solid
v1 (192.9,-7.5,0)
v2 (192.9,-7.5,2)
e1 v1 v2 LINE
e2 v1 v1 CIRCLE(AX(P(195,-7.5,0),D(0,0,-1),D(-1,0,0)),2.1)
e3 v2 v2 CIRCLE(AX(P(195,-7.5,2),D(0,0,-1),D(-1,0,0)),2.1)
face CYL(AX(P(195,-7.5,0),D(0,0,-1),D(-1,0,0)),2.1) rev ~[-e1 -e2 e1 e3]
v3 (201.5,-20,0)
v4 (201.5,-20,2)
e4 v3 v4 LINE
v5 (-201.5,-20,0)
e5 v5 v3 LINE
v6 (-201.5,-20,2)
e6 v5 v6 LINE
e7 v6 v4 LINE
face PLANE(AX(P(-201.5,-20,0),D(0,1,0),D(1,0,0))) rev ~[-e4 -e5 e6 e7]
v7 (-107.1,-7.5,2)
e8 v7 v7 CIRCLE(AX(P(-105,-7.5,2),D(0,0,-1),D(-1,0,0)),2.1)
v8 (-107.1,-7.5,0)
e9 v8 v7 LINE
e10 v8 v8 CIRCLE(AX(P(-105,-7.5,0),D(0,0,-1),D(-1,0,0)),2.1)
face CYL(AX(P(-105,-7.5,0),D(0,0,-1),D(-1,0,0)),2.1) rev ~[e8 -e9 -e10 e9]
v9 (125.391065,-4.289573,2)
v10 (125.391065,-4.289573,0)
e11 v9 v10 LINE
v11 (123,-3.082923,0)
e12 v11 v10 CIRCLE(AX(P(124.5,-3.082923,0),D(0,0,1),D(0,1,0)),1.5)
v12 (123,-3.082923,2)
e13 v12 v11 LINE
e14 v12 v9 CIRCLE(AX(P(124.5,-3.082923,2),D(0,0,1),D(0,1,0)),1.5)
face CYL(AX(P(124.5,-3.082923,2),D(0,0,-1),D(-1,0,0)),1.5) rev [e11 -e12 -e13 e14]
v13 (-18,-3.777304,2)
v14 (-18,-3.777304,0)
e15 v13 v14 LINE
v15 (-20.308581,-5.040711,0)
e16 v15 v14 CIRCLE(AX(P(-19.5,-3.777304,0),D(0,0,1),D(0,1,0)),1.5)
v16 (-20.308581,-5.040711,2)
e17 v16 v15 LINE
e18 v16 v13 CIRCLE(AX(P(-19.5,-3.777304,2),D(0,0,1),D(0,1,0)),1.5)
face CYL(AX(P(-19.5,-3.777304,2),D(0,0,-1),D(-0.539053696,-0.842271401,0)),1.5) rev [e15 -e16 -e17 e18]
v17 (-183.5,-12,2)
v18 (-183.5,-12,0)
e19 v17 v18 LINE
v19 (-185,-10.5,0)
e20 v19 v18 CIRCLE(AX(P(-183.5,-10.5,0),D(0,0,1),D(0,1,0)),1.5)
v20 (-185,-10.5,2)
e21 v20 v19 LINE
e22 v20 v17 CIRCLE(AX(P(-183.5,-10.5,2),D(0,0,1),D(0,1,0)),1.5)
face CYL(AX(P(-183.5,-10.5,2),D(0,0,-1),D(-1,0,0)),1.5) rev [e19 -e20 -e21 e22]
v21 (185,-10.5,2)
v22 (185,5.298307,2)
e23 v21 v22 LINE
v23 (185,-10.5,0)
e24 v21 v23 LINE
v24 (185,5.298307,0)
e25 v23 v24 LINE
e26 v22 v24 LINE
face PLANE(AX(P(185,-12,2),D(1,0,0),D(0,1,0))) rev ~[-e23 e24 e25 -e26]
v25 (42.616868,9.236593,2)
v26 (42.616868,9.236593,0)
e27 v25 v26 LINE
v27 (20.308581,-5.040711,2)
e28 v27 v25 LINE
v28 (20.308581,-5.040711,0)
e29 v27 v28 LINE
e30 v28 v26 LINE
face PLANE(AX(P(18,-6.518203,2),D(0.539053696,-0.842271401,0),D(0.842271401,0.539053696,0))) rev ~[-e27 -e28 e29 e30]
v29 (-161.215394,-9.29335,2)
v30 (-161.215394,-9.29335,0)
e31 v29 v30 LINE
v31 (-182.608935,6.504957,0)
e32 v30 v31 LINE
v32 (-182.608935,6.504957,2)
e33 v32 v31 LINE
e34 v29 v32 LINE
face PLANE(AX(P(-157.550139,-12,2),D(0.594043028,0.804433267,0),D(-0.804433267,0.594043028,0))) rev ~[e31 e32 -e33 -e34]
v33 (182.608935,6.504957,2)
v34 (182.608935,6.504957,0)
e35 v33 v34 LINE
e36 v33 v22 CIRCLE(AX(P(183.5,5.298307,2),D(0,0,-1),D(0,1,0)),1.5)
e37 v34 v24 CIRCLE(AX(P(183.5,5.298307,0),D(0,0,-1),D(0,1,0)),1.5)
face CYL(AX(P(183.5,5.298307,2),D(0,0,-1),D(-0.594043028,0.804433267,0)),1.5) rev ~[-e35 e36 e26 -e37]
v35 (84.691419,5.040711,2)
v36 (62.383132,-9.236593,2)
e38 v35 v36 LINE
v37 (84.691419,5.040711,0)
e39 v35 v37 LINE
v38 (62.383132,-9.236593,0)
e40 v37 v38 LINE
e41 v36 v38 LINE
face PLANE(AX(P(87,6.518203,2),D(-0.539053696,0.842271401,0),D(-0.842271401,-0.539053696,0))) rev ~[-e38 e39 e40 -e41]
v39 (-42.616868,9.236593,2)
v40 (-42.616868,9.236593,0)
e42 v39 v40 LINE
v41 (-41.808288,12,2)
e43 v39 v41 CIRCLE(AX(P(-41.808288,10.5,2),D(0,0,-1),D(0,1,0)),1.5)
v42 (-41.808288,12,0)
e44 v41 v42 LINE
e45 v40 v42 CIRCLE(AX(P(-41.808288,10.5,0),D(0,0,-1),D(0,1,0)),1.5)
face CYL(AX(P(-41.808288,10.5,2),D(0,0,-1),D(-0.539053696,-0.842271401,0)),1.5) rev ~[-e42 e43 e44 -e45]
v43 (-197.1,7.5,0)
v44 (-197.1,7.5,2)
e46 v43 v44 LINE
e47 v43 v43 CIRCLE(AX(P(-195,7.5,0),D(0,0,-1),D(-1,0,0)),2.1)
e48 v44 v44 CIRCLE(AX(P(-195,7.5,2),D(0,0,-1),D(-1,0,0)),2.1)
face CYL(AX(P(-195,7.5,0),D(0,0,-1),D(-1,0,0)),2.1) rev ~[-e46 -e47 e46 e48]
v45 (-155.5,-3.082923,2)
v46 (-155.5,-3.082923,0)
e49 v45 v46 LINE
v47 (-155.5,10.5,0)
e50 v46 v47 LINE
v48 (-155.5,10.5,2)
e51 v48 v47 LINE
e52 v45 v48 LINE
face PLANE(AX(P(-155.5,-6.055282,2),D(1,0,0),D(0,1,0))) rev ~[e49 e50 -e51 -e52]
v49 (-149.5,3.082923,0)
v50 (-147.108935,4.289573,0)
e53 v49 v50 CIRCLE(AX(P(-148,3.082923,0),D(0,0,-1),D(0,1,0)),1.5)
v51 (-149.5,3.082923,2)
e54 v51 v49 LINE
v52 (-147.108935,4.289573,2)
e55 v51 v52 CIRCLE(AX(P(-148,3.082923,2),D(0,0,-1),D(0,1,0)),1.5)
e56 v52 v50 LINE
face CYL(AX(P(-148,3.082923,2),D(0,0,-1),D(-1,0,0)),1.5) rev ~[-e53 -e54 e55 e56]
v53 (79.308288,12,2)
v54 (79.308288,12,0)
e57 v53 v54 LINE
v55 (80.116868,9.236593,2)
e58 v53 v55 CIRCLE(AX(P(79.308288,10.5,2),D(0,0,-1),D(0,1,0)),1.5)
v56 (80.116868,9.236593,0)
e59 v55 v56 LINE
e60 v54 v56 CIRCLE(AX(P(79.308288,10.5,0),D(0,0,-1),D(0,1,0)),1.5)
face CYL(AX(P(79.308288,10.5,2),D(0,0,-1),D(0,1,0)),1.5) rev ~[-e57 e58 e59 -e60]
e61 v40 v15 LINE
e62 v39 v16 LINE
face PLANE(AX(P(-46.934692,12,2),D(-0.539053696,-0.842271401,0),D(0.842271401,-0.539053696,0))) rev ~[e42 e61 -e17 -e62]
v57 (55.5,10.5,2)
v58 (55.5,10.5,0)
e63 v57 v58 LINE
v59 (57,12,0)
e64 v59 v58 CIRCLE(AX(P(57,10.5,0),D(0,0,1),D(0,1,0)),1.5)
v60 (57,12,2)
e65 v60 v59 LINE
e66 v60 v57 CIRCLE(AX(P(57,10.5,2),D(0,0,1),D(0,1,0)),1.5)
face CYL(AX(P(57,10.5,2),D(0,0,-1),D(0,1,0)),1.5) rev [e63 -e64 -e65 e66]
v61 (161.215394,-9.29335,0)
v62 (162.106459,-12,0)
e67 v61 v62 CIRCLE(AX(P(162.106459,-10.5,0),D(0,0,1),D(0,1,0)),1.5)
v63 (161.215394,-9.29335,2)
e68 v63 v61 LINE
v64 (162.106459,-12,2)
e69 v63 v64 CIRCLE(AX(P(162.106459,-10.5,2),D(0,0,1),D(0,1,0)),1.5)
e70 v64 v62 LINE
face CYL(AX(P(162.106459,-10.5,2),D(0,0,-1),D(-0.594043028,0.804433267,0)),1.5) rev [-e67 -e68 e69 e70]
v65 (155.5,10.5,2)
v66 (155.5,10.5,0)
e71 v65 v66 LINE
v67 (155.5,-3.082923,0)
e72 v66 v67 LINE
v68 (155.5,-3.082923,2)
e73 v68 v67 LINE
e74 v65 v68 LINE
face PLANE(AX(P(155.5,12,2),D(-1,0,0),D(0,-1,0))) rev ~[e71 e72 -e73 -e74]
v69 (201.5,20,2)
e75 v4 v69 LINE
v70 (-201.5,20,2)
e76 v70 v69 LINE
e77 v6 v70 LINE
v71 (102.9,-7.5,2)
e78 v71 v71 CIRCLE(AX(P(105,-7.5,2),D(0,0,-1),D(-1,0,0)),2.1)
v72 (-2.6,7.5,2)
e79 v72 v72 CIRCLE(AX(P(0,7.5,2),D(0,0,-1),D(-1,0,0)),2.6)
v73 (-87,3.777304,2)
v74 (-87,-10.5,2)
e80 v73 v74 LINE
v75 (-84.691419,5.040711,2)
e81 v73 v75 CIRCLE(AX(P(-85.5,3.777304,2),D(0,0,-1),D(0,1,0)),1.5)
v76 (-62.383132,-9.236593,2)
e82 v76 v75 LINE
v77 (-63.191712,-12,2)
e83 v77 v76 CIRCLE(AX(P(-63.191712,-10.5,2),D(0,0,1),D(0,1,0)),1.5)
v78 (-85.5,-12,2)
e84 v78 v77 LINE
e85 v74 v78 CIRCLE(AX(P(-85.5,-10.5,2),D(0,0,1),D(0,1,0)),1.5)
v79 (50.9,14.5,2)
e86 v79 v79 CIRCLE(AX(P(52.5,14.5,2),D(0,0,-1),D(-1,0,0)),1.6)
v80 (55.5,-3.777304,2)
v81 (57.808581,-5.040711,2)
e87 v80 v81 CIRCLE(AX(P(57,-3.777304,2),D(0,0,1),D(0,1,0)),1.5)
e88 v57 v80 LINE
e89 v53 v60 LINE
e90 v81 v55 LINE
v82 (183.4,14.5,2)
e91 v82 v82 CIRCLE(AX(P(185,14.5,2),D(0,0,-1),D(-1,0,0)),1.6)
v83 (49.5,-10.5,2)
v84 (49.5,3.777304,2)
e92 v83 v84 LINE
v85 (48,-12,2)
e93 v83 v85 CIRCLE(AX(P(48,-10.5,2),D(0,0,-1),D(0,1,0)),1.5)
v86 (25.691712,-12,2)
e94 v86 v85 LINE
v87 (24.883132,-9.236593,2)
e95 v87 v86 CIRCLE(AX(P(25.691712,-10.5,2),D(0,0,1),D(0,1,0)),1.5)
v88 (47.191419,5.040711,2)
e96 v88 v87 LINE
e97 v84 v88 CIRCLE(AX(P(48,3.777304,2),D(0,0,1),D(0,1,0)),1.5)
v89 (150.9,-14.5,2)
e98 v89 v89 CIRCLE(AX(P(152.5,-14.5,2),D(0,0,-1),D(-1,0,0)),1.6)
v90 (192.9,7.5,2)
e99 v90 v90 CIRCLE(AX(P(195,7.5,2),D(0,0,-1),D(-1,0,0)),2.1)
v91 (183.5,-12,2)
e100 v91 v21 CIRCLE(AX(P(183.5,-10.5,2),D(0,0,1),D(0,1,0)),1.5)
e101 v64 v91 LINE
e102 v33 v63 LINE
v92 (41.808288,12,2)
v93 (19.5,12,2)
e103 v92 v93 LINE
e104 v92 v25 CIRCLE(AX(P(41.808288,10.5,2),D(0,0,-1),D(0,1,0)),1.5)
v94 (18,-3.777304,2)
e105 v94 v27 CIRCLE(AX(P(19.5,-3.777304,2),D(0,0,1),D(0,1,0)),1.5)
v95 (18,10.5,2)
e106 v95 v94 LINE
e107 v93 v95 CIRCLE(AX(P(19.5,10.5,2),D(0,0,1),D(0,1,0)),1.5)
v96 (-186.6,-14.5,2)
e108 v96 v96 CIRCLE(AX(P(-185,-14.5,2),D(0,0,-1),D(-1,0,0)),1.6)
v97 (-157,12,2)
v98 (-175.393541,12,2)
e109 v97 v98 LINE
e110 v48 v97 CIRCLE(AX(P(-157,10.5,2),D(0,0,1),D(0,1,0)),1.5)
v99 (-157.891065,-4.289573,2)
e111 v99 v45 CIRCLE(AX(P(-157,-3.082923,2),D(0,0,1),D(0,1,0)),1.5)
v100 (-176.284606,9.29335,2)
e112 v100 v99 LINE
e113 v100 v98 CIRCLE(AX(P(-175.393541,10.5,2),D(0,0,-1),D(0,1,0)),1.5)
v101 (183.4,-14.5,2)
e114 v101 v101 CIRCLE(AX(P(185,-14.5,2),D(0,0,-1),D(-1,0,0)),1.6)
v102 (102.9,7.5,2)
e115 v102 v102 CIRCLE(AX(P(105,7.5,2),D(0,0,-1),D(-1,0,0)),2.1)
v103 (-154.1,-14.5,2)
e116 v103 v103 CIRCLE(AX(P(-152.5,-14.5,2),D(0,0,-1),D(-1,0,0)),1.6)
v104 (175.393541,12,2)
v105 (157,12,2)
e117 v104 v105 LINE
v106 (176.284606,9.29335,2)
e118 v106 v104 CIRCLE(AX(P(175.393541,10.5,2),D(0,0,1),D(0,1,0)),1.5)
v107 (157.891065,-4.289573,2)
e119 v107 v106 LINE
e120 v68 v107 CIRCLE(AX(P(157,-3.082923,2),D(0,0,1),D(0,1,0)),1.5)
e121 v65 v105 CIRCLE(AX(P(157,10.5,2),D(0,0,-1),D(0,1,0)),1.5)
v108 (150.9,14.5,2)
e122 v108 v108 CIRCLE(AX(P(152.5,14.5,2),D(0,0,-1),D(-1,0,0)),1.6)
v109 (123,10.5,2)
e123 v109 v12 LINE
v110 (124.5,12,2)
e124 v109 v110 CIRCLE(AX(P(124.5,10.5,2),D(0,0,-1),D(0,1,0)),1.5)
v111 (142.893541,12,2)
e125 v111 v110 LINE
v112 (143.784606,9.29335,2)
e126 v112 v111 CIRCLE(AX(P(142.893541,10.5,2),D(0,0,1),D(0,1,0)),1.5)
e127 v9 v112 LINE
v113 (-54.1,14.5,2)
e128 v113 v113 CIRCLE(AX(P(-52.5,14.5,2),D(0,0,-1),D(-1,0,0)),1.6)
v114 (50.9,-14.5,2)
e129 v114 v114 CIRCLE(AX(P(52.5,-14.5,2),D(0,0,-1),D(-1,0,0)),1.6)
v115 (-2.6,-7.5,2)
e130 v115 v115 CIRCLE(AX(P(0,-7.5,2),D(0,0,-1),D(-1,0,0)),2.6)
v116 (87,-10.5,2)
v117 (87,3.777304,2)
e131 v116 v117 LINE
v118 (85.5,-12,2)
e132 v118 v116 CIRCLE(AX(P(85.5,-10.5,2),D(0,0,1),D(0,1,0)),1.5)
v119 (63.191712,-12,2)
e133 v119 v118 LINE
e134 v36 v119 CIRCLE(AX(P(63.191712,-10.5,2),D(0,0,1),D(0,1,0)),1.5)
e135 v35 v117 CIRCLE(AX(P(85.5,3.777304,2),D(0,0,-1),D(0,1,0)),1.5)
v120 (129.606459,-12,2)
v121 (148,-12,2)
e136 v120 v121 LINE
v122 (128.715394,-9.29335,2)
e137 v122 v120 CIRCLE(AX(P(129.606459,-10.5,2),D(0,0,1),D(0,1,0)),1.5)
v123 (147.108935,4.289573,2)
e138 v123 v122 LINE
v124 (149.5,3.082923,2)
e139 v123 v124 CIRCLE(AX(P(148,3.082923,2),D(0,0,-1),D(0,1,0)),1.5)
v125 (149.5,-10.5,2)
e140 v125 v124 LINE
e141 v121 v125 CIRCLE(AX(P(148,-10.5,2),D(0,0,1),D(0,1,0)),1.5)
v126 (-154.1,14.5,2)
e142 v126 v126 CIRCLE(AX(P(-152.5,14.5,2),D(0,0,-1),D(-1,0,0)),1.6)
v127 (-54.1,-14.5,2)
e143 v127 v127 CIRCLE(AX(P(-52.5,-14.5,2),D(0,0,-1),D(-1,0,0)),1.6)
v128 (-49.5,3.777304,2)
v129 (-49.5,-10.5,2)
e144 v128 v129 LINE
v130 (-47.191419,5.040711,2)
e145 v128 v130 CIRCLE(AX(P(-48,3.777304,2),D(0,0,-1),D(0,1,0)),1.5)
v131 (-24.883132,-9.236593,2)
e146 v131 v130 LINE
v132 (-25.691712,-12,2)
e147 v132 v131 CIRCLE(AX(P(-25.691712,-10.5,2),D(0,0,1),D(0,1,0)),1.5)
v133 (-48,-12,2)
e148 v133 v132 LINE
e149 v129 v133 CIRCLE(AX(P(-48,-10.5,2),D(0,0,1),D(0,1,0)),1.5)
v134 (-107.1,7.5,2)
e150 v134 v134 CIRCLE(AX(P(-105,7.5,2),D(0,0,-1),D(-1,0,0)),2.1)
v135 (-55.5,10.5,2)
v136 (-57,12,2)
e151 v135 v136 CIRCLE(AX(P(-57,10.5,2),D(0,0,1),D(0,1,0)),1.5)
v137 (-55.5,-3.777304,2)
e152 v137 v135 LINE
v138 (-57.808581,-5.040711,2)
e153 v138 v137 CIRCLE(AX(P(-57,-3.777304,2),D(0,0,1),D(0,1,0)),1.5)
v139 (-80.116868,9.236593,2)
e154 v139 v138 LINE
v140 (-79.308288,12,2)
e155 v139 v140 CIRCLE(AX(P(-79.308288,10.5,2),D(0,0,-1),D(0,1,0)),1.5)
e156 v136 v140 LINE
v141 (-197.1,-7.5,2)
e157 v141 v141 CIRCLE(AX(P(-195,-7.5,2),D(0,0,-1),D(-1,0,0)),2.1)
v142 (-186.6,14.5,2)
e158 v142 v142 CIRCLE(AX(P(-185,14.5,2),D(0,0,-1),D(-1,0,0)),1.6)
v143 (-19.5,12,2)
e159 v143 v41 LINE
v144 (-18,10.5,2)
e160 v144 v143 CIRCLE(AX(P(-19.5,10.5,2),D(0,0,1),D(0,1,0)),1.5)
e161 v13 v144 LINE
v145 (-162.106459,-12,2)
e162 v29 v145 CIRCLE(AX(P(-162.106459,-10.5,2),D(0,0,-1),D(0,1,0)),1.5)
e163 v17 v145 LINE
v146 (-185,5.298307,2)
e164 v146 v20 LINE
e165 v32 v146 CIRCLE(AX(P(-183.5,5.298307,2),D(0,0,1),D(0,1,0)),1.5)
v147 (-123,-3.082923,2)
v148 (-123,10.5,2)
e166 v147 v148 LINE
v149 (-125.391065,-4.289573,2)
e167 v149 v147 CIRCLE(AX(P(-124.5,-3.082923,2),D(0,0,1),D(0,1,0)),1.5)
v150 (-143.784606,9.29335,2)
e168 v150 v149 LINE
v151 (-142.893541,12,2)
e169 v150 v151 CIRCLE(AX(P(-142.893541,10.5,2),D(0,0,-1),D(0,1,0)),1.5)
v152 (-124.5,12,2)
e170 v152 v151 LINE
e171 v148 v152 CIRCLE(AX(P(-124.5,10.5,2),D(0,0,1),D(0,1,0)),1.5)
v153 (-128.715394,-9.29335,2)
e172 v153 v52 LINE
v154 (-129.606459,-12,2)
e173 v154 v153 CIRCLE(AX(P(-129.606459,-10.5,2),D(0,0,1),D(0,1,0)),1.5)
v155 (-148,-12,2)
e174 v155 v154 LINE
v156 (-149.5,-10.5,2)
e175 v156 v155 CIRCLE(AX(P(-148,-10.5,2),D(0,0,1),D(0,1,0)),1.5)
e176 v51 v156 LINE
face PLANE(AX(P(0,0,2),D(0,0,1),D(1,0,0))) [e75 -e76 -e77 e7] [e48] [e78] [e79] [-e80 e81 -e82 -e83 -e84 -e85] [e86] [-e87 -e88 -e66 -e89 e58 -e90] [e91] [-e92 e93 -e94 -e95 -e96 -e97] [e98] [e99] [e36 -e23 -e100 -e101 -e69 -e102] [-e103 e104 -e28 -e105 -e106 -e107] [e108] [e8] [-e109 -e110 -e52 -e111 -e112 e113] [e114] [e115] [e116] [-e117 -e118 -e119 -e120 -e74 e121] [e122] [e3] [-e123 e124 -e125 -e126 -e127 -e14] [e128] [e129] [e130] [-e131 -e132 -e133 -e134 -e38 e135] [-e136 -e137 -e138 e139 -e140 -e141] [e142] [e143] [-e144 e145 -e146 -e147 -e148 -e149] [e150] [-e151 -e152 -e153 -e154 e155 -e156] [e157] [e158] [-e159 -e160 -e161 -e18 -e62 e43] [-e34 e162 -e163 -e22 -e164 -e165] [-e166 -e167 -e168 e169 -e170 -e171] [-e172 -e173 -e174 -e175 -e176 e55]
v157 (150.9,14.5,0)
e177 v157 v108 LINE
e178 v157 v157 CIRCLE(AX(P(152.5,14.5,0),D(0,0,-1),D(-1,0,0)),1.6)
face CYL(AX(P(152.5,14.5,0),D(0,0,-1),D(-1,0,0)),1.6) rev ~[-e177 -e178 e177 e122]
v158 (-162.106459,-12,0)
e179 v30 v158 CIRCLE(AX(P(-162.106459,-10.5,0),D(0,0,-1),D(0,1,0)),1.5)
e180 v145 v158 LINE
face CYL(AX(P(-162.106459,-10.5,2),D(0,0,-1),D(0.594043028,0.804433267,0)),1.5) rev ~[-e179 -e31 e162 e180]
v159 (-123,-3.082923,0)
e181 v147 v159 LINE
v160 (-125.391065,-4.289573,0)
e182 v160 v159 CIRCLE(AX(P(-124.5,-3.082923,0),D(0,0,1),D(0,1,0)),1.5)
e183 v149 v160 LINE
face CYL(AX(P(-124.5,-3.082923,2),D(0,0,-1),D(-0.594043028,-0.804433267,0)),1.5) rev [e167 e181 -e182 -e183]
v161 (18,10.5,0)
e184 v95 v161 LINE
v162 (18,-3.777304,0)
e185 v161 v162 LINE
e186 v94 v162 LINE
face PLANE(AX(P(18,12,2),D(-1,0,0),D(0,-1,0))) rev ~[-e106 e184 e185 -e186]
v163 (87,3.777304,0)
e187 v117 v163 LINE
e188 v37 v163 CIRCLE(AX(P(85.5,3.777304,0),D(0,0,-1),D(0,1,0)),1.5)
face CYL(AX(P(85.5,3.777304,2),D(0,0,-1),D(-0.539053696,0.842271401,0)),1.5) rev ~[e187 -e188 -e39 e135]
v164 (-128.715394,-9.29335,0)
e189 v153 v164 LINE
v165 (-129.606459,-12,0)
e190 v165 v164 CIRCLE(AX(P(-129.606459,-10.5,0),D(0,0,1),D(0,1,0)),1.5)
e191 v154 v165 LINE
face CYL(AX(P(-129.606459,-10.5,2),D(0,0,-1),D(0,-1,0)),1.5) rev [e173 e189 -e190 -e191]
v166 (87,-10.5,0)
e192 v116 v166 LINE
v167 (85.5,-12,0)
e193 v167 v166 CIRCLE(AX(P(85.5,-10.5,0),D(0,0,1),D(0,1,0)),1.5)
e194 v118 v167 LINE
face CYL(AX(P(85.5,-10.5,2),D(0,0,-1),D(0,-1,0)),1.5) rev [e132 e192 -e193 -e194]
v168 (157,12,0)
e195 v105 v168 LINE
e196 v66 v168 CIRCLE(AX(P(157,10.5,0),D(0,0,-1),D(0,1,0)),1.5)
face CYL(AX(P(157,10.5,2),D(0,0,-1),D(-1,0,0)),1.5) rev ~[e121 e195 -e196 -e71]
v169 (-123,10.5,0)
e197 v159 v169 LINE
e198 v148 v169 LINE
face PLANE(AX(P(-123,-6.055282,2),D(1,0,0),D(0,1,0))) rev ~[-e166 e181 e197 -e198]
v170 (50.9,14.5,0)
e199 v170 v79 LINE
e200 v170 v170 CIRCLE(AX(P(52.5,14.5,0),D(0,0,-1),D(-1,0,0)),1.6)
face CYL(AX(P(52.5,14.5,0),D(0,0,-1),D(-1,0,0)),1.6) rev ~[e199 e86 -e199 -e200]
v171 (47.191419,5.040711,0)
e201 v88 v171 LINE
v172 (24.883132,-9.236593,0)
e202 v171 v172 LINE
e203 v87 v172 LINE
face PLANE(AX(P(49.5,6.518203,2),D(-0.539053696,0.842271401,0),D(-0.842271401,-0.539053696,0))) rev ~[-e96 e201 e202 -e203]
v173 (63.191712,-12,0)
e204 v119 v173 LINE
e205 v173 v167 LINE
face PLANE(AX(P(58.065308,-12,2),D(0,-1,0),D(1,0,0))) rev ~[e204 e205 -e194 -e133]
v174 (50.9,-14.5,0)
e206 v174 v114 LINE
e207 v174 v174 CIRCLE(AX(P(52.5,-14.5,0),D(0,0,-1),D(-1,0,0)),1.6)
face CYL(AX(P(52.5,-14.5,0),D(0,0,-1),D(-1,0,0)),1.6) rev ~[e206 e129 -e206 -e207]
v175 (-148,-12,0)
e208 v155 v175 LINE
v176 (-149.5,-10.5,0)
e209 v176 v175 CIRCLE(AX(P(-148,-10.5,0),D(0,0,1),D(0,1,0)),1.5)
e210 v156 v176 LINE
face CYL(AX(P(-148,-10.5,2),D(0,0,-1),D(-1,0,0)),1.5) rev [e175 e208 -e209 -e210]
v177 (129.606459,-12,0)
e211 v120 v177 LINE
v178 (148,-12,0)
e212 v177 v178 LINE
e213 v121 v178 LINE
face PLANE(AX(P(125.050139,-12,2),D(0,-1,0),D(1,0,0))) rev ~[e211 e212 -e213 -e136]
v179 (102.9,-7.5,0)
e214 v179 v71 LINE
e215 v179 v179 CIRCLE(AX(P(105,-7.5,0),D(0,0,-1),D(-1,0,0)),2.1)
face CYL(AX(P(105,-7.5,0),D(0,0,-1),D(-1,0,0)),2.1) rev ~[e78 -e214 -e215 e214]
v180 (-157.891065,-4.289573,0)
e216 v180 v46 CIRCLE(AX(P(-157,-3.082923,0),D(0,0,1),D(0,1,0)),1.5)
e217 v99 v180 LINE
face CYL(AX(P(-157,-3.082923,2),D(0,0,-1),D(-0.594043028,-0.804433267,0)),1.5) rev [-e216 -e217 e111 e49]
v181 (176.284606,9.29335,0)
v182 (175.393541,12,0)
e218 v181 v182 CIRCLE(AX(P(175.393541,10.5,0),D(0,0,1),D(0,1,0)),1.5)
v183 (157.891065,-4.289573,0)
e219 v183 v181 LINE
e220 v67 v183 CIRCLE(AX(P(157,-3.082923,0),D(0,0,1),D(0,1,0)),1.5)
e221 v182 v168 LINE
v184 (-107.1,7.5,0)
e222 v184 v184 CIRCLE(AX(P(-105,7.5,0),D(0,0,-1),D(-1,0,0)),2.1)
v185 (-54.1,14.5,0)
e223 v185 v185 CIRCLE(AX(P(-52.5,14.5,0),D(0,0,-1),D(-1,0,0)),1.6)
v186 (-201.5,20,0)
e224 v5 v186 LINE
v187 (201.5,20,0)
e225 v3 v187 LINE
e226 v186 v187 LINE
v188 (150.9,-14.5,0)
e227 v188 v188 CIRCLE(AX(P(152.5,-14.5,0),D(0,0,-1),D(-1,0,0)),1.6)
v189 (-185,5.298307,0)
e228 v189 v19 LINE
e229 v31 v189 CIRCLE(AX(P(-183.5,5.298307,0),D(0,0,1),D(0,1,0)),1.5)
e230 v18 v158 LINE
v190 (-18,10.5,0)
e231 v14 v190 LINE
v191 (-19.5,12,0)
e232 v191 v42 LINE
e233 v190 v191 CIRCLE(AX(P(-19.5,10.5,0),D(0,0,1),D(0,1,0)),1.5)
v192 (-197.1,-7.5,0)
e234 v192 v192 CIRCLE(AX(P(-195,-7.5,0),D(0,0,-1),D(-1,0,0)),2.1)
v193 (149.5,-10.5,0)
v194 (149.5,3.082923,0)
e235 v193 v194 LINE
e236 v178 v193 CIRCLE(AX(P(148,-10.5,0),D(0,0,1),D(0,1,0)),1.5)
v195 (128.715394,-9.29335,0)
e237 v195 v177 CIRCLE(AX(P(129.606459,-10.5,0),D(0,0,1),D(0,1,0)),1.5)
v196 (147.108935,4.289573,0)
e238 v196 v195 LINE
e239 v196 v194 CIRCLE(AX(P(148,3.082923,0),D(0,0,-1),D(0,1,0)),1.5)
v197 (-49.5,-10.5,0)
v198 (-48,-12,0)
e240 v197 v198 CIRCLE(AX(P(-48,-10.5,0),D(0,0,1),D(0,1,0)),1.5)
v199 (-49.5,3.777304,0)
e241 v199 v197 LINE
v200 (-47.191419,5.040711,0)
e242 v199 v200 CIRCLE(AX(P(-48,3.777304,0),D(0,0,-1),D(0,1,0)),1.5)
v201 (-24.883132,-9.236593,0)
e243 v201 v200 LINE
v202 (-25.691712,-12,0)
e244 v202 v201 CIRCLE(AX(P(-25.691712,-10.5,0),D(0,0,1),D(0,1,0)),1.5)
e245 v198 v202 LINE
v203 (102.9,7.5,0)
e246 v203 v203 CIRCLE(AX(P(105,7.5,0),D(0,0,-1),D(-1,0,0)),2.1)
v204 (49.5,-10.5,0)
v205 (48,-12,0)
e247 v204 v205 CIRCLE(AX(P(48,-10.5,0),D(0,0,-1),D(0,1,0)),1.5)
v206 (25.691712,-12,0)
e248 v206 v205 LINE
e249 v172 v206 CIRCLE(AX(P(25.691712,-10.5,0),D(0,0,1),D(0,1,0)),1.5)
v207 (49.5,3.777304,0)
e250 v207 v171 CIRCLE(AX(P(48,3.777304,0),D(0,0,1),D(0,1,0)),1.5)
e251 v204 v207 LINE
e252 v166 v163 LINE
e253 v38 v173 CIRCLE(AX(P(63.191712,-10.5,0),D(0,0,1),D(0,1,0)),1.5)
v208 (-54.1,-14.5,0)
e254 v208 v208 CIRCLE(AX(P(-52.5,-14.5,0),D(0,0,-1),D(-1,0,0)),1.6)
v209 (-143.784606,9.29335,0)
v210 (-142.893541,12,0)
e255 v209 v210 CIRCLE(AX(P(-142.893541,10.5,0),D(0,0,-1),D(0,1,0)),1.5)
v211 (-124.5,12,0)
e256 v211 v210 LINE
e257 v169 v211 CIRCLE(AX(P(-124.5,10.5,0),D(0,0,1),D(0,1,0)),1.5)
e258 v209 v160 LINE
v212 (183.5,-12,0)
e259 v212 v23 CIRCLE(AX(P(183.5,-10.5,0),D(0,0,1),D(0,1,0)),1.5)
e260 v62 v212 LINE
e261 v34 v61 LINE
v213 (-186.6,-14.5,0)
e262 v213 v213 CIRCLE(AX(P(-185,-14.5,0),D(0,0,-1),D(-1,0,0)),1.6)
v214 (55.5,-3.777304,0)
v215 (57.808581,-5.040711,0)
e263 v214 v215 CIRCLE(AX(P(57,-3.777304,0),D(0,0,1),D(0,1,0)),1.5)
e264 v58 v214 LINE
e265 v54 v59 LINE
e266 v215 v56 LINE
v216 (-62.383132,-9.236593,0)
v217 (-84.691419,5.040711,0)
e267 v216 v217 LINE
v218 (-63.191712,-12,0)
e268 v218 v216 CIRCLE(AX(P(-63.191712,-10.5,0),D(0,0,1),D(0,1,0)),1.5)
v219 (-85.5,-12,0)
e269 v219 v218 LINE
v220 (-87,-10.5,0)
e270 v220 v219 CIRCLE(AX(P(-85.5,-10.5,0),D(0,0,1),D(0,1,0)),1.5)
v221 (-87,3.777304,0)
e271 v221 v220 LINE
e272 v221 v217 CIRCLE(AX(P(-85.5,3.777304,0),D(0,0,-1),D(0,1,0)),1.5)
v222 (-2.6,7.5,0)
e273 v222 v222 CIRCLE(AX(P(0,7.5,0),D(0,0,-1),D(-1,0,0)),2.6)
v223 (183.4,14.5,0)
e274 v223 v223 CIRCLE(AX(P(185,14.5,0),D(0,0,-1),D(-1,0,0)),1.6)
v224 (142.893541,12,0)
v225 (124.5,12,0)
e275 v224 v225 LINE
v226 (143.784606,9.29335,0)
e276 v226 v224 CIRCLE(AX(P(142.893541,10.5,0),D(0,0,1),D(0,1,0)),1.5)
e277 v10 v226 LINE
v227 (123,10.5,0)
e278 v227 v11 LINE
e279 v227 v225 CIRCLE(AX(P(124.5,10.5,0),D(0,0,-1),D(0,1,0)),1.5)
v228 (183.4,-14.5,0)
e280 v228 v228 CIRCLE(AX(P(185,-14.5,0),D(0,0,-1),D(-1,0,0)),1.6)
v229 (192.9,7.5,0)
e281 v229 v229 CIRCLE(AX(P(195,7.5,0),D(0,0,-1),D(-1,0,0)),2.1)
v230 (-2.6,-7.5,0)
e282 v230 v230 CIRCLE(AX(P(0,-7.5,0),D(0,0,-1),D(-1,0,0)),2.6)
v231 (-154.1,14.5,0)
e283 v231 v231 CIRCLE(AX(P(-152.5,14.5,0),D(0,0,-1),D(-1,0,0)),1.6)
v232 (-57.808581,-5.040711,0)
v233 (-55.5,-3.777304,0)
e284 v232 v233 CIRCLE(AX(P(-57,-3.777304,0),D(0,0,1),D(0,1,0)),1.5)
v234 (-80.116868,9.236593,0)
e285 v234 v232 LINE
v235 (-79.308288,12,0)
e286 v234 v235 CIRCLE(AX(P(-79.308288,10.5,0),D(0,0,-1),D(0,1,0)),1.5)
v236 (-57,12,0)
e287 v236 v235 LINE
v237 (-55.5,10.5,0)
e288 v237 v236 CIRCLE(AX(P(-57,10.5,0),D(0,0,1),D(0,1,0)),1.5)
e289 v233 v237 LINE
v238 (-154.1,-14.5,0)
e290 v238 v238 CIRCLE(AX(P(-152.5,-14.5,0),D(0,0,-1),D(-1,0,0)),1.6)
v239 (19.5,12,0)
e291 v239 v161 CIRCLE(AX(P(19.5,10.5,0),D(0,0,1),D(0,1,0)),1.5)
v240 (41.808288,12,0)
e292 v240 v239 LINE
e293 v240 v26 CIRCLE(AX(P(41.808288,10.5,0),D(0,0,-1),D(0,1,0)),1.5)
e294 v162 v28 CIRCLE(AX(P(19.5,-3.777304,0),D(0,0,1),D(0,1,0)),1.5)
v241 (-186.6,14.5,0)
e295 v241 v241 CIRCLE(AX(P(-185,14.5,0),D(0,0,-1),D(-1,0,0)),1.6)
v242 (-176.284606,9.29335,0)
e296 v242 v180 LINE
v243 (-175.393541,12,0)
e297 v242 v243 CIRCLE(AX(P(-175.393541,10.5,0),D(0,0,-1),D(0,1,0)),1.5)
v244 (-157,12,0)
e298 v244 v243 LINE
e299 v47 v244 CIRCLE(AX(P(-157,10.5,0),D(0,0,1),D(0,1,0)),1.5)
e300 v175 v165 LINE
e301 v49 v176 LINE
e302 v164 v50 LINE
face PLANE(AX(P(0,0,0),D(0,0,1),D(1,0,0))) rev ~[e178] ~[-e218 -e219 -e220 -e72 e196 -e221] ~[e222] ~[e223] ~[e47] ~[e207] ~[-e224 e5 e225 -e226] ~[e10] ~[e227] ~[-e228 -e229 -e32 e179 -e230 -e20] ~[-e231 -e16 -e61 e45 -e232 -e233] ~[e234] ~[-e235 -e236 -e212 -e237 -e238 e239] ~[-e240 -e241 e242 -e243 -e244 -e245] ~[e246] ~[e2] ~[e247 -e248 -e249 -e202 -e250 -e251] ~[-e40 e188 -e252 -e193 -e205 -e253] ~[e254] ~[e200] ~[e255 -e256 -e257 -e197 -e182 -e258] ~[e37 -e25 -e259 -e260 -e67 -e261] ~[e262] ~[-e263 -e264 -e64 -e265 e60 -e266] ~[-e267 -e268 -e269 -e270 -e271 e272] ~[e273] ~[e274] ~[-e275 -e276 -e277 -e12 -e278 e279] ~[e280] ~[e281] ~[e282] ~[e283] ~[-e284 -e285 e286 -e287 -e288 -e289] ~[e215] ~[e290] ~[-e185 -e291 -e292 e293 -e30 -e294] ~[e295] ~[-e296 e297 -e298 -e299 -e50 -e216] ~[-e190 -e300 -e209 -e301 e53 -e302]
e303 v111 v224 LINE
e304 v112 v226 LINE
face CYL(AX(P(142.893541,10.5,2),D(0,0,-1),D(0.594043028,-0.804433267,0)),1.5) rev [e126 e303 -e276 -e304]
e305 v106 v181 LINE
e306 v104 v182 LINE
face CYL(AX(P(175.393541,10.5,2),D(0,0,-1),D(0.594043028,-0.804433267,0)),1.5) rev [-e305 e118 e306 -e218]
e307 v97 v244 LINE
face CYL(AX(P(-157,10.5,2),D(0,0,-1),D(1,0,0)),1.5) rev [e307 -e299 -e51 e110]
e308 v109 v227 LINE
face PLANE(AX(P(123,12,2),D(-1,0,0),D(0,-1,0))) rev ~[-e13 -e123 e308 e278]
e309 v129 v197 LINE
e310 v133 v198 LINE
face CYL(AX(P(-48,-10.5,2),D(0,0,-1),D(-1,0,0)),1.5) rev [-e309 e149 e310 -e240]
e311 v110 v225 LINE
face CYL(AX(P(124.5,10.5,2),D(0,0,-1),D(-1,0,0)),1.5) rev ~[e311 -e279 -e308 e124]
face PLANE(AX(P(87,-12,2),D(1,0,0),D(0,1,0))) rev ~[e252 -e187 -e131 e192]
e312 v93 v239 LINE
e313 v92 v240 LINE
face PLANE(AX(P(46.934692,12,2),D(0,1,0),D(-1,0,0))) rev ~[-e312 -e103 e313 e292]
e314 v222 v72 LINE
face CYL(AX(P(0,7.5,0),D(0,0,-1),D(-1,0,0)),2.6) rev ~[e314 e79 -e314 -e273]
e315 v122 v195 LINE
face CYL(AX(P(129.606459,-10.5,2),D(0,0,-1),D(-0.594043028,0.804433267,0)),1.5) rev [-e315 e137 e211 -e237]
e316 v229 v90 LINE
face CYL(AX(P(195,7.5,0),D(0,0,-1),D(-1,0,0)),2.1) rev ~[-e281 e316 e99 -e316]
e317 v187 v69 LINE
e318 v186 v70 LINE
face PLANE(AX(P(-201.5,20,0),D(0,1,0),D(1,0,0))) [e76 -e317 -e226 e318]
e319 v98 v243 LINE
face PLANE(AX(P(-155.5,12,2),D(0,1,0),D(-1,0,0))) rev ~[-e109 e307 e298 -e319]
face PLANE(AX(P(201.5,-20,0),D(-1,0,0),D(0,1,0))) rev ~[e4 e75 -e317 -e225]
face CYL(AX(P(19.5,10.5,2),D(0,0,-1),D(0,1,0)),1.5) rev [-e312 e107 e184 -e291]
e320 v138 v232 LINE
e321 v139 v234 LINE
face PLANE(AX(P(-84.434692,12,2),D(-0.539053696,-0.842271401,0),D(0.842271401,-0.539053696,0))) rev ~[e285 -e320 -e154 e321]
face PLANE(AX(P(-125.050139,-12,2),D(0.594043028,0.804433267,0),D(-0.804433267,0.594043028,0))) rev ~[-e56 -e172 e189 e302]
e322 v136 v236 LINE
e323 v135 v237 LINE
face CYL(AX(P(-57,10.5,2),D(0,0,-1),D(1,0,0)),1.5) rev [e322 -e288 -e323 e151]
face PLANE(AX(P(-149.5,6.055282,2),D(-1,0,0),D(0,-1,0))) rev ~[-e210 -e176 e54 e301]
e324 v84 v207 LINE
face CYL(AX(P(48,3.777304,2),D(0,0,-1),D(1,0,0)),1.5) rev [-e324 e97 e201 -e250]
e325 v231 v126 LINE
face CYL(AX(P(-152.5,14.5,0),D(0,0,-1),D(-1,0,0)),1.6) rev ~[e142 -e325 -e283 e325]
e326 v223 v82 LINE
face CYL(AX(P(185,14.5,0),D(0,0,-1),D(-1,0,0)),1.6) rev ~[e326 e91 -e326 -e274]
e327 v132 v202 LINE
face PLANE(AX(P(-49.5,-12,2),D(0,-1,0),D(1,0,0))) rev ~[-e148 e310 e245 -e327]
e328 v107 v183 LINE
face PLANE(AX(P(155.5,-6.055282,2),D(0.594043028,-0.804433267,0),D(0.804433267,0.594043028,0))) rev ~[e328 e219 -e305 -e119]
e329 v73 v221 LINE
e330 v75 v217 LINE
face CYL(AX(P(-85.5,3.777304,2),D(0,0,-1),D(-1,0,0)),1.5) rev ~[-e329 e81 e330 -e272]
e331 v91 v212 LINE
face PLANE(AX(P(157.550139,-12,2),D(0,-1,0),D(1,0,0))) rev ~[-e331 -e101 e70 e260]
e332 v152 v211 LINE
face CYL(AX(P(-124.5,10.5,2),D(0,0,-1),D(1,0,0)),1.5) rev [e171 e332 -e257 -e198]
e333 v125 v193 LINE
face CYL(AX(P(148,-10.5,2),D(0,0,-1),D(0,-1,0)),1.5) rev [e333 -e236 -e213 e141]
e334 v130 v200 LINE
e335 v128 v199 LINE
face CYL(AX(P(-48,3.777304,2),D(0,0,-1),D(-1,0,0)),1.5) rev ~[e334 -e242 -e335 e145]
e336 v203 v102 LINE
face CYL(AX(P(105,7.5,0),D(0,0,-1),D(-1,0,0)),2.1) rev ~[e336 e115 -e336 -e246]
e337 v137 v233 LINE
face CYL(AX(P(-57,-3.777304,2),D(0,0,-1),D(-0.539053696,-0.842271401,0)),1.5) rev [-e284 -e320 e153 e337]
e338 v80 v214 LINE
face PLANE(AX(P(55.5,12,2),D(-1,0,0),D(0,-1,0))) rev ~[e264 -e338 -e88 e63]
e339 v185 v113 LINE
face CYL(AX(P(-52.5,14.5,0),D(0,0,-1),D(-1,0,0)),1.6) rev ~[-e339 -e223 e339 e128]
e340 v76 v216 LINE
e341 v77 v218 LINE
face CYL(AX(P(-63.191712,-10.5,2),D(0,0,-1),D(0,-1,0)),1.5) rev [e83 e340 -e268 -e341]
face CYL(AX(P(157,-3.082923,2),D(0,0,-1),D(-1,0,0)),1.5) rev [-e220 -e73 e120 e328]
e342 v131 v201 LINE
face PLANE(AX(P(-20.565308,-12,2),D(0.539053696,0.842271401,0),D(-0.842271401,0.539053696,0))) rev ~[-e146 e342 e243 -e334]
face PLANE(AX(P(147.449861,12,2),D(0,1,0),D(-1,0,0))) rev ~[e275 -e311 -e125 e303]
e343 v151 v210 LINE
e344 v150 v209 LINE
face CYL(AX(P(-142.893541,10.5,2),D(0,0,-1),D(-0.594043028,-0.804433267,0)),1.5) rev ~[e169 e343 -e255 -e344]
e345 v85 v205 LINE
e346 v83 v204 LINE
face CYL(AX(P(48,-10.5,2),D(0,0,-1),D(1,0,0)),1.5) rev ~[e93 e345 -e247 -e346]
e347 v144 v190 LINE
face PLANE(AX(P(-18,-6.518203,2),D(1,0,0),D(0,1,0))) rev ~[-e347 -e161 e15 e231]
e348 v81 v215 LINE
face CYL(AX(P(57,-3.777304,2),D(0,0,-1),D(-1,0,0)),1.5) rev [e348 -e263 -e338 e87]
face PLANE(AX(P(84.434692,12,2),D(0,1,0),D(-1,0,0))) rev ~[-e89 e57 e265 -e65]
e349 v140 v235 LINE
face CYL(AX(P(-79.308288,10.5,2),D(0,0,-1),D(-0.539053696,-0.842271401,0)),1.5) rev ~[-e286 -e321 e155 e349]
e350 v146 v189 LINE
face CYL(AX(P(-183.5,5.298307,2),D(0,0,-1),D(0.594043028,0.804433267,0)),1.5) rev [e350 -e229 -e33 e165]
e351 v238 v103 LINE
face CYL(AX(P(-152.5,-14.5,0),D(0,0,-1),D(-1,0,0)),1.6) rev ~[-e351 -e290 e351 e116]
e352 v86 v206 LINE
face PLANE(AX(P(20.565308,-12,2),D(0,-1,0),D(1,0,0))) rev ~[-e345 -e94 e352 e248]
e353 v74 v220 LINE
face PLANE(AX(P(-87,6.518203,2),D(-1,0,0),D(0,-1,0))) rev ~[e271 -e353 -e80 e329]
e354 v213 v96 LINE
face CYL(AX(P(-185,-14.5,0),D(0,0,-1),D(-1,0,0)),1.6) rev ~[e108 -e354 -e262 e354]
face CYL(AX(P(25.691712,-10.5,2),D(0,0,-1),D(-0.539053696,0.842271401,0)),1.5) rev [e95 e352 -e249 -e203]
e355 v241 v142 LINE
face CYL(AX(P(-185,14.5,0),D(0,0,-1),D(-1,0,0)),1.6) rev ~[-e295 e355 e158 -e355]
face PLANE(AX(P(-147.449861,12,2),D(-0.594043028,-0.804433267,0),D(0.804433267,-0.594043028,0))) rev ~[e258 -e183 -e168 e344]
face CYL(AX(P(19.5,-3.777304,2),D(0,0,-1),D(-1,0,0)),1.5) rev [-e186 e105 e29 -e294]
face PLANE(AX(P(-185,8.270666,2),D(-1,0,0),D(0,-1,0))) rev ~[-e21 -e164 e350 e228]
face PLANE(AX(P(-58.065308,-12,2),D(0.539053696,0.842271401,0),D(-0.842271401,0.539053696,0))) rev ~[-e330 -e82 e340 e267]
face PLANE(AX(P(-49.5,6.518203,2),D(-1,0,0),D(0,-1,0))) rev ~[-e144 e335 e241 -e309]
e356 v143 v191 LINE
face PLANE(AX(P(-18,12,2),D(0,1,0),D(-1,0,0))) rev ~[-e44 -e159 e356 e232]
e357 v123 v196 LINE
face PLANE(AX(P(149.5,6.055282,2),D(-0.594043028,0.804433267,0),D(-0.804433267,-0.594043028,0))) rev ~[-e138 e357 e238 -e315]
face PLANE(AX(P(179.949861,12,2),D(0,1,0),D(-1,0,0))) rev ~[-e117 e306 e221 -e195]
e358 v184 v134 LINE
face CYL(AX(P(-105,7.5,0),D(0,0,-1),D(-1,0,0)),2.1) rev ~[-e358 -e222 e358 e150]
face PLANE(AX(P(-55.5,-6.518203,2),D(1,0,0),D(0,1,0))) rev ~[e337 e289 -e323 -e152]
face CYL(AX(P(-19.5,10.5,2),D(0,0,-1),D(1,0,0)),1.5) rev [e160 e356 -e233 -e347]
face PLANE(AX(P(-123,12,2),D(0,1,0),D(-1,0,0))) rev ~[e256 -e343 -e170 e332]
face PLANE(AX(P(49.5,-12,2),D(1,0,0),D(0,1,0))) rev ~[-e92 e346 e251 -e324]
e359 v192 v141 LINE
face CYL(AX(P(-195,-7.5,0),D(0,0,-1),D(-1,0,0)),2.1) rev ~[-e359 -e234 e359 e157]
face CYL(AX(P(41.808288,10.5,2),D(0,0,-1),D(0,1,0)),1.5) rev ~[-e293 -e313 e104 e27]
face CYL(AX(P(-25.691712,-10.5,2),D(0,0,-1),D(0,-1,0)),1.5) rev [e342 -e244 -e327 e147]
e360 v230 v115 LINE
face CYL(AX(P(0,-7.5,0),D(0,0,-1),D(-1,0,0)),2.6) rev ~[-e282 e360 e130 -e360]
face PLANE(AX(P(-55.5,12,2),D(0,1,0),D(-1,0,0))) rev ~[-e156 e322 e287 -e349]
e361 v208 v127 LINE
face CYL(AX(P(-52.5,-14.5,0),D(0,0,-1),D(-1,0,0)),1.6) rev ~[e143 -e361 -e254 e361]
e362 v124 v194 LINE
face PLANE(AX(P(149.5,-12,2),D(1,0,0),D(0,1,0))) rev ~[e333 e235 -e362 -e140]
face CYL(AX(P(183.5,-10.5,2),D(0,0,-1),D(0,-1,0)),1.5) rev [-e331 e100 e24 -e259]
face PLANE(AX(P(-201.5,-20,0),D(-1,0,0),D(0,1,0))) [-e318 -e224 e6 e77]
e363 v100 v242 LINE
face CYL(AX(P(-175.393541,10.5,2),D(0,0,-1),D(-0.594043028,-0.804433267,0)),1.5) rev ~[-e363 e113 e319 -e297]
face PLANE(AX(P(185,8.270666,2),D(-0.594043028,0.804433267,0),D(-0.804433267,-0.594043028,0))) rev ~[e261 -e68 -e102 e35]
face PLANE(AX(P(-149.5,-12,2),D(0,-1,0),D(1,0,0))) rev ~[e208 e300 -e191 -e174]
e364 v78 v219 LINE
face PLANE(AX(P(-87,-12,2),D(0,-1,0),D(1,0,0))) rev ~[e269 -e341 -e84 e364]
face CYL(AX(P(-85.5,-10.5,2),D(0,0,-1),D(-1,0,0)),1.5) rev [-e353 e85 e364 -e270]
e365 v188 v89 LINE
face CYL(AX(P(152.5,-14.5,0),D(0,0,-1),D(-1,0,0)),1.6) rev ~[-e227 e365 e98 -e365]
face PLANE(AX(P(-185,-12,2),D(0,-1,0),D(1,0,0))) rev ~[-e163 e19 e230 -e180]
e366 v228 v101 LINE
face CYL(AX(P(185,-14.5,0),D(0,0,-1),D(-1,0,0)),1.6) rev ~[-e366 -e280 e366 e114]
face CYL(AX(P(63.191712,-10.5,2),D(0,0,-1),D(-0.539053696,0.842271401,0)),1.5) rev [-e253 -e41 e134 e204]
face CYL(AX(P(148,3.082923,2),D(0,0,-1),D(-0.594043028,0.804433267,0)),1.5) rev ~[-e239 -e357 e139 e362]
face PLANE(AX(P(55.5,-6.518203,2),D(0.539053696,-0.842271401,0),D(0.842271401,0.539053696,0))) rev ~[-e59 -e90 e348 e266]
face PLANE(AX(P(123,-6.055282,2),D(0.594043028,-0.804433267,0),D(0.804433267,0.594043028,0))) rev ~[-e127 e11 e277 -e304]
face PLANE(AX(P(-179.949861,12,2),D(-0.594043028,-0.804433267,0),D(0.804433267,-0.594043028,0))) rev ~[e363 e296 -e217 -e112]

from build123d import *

# Parameters (mm, degrees)
SKETCH_1_W          = 403
SKETCH_1_H          = 40
EXTRUDE_1_DEPTH     = 2
CUT_EXTRUDE_1_DEPTH = 203.5
FILLET_1_R          = 1.5
SKETCH_3_R          = 2.1
SKETCH_3_R_2        = 1.6
SKETCH_3_R_3        = 2.6
CUT_EXTRUDE_2_DEPTH = 203.5


with BuildPart() as part:
    # 草图1 → 凸台-拉伸1 (new body)
    with BuildSketch(Plane.XY):
        Rectangle(SKETCH_1_W, SKETCH_1_H)
    extrude(amount=EXTRUDE_1_DEPTH)

    # 草图2 → 切除-拉伸1 (cut, through all)
    with BuildSketch(Plane.XY.offset(2)):
        Polygon((-157.550139231, -12), (-185, 8.270666414), (-185, -12), align=None)
        Polygon((-179.949860769, 12), (-155.5, -6.055281799), (-155.5, 12), align=None)
        Polygon((-149.5, 6.055281799), (-149.5, -12), (-125.050139231, -12), align=None)
        Polygon((-147.449860769, 12), (-123, -6.055281799), (-123, 12), align=None)
        Polygon((-87, 6.518202701), (-87, -12), (-58.06530828, -12), align=None)
        Polygon((-84.43469172, 12), (-55.5, -6.518202701), (-55.5, 12), align=None)
        Polygon((-46.93469172, 12), (-18, -6.518202701), (-18, 12), align=None)
        Polygon((-49.5, 6.518202701), (-49.5, -12), (-20.56530828, -12), align=None)
        Polygon((46.93469172, 12), (18, 12), (18, -6.518202701), align=None)
        Polygon((49.5, -12), (49.5, 6.518202701), (20.56530828, -12), align=None)
        Polygon((84.43469172, 12), (55.5, 12), (55.5, -6.518202701), align=None)
        Polygon((87, 6.518202701), (58.06530828, -12), (87, -12), align=None)
        Polygon((123, 12), (123, -6.055281799), (147.449860769, 12), align=None)
        Polygon((149.5, 6.055281799), (125.050139231, -12), (149.5, -12), align=None)
        Polygon((155.5, 12), (155.5, -6.055281799), (179.949860769, 12), align=None)
        Polygon((185, 8.270666414), (157.550139231, -12), (185, -12), align=None)
    extrude(amount=-CUT_EXTRUDE_1_DEPTH, mode=Mode.SUBTRACT)

    # 圆角1
    fillet_1_edges = [part.edges().sort_by_distance(p)[0] for p in [
        (-87, 6.518202701, 1),
        (-58.06530828, -12, 1),
        (-87, -12, 1),
        (149.5, 6.055281799, 1),
        (149.5, -12, 1),
        (125.050139231, -12, 1),
        (155.5, 12, 1),
        (179.949860769, 12, 1),
        (155.5, -6.055281799, 1),
        (185, 8.270666414, 1),
        (185, -12, 1),
        (157.550139231, -12, 1),
        (49.5, -12, 1),
        (20.56530828, -12, 1),
        (49.5, 6.518202701, 1),
        (84.43469172, 12, 1),
        (55.5, -6.518202701, 1),
        (55.5, 12, 1),
        (87, 6.518202701, 1),
        (87, -12, 1),
        (58.06530828, -12, 1),
        (123, 12, 1),
        (147.449860769, 12, 1),
        (123, -6.055281799, 1),
        (-157.550139231, -12, 1),
        (-185, -12, 1),
        (-185, 8.270666414, 1),
        (-84.43469172, 12, 1),
        (-55.5, 12, 1),
        (-55.5, -6.518202701, 1),
        (-46.93469172, 12, 1),
        (-18, 12, 1),
        (-18, -6.518202701, 1),
        (-49.5, 6.518202701, 1),
        (-20.56530828, -12, 1),
        (-49.5, -12, 1),
        (46.93469172, 12, 1),
        (18, -6.518202701, 1),
        (18, 12, 1),
        (-179.949860769, 12, 1),
        (-155.5, 12, 1),
        (-155.5, -6.055281799, 1),
        (-149.5, 6.055281799, 1),
        (-125.050139231, -12, 1),
        (-149.5, -12, 1),
        (-147.449860769, 12, 1),
        (-123, 12, 1),
        (-123, -6.055281799, 1),
    ]]
    fillet(fillet_1_edges, radius=FILLET_1_R)

    # 草图3 → 切除-拉伸2 (cut, through all)
    with BuildSketch(Plane(origin=(0, 0, 0), x_dir=(-1, 0, 0), z_dir=(0, 0, -1))):
        with Locations((195, -7.5)):
            Circle(SKETCH_3_R)
        with Locations((-195, 7.5)):
            Circle(SKETCH_3_R)
        with Locations((195, 7.5)):
            Circle(SKETCH_3_R)
        with Locations((105, 7.5)):
            Circle(SKETCH_3_R)
        with Locations((105, -7.5)):
            Circle(SKETCH_3_R)
        with Locations((-105, 7.5)):
            Circle(SKETCH_3_R)
        with Locations((-105, -7.5)):
            Circle(SKETCH_3_R)
        with Locations((-195, -7.5)):
            Circle(SKETCH_3_R)
        with Locations((-152.5, -14.5)):
            Circle(SKETCH_3_R_2)
        with Locations((-185, 14.5)):
            Circle(SKETCH_3_R_2)
        with Locations((-185, -14.5)):
            Circle(SKETCH_3_R_2)
        with Locations((185, -14.5)):
            Circle(SKETCH_3_R_2)
        with Locations((-52.5, -14.5)):
            Circle(SKETCH_3_R_2)
        with Locations((52.5, -14.5)):
            Circle(SKETCH_3_R_2)
        with Locations((152.5, -14.5)):
            Circle(SKETCH_3_R_2)
        with Locations((152.5, 14.5)):
            Circle(SKETCH_3_R_2)
        with Locations((185, 14.5)):
            Circle(SKETCH_3_R_2)
        with Locations((-152.5, 14.5)):
            Circle(SKETCH_3_R_2)
        with Locations((-52.5, 14.5)):
            Circle(SKETCH_3_R_2)
        with Locations((52.5, 14.5)):
            Circle(SKETCH_3_R_2)
        with Locations((0, -7.5)):
            Circle(SKETCH_3_R_3)
        with Locations((0, 7.5)):
            Circle(SKETCH_3_R_3)
        with BuildLine():
            Line((-57, 12), (-79.30828758, 12))
            ThreePointArc((-79.30828758, 12), (-80.7479248, 10.921241824), (-80.116868125, 9.236592899))
            Line((-80.116868125, 9.236592899), (-57.808580545, -5.040711152))
            ThreePointArc((-57.808580545, -5.040711152), (-56.279885709, -5.093144242), (-55.5, -3.777304051))
            Line((-55.5, -3.777304051), (-55.5, 10.5))
            ThreePointArc((-55.5, 10.5), (-55.939339828, 11.560660172), (-57, 12))
        make_face()
        with BuildLine():
            Line((-49.5, 3.777304051), (-49.5, -10.5))
            ThreePointArc((-49.5, -10.5), (-49.060660172, -11.560660172), (-48, -12))
            Line((-48, -12), (-25.69171242, -12))
            ThreePointArc((-25.69171242, -12), (-24.2520752, -10.921241824), (-24.883131875, -9.236592899))
            Line((-24.883131875, -9.236592899), (-47.191419455, 5.040711152))
            ThreePointArc((-47.191419455, 5.040711152), (-48.720114291, 5.093144242), (-49.5, 3.777304051))
        make_face()
        with BuildLine():
            Line((-157, 12), (-175.393541154, 12))
            ThreePointArc((-175.393541154, 12), (-176.818317426, 10.96905498), (-176.284605696, 9.2933501))
            Line((-176.284605696, 9.2933501), (-157.891064542, -4.289572599))
            ThreePointArc((-157.891064542, -4.289572599), (-156.324202994, -4.422063619), (-155.5, -3.082922698))
            Line((-155.5, -3.082922698), (-155.5, 10.5))
            ThreePointArc((-155.5, 10.5), (-155.939339828, 11.560660172), (-157, 12))
        make_face()
        with BuildLine():
            Line((-123, -3.082922698), (-123, 10.5))
            ThreePointArc((-123, 10.5), (-123.439339828, 11.560660172), (-124.5, 12))
            Line((-124.5, 12), (-142.893541154, 12))
            ThreePointArc((-142.893541154, 12), (-144.318317426, 10.96905498), (-143.784605696, 9.2933501))
            Line((-143.784605696, 9.2933501), (-125.391064542, -4.289572599))
            ThreePointArc((-125.391064542, -4.289572599), (-123.824202994, -4.422063619), (-123, -3.082922698))
        make_face()
        with BuildLine():
            Line((149.5, -10.5), (149.5, 3.082922698))
            ThreePointArc((149.5, 3.082922698), (148.675797006, 4.422063619), (147.108935458, 4.289572599))
            Line((147.108935458, 4.289572599), (128.715394304, -9.2933501))
            ThreePointArc((128.715394304, -9.2933501), (128.181682574, -10.96905498), (129.606458846, -12))
            Line((129.606458846, -12), (148, -12))
            ThreePointArc((148, -12), (149.060660172, -11.560660172), (149.5, -10.5))
        make_face()
        with BuildLine():
            Line((175.393541154, 12), (157, 12))
            ThreePointArc((157, 12), (155.939339828, 11.560660172), (155.5, 10.5))
            Line((155.5, 10.5), (155.5, -3.082922698))
            ThreePointArc((155.5, -3.082922698), (156.324202994, -4.422063619), (157.891064542, -4.289572599))
            Line((157.891064542, -4.289572599), (176.284605696, 9.2933501))
            ThreePointArc((176.284605696, 9.2933501), (176.818317426, 10.96905498), (175.393541154, 12))
        make_face()
        with BuildLine():
            Line((87, -10.5), (87, 3.777304051))
            ThreePointArc((87, 3.777304051), (86.220114291, 5.093144242), (84.691419455, 5.040711152))
            Line((84.691419455, 5.040711152), (62.383131875, -9.236592899))
            ThreePointArc((62.383131875, -9.236592899), (61.7520752, -10.921241824), (63.19171242, -12))
            Line((63.19171242, -12), (85.5, -12))
            ThreePointArc((85.5, -12), (86.560660172, -11.560660172), (87, -10.5))
        make_face()
        with BuildLine():
            Line((142.893541154, 12), (124.5, 12))
            ThreePointArc((124.5, 12), (123.439339828, 11.560660172), (123, 10.5))
            Line((123, 10.5), (123, -3.082922698))
            ThreePointArc((123, -3.082922698), (123.824202994, -4.422063619), (125.391064542, -4.289572599))
            Line((125.391064542, -4.289572599), (143.784605696, 9.2933501))
            ThreePointArc((143.784605696, 9.2933501), (144.318317426, 10.96905498), (142.893541154, 12))
        make_face()
        with BuildLine():
            Line((-161.215394304, -9.2933501), (-182.608935458, 6.504957214))
            ThreePointArc((-182.608935458, 6.504957214), (-184.175797006, 6.637448235), (-185, 5.298307314))
            Line((-185, 5.298307314), (-185, -10.5))
            ThreePointArc((-185, -10.5), (-184.560660172, -11.560660172), (-183.5, -12))
            Line((-183.5, -12), (-162.106458846, -12))
            ThreePointArc((-162.106458846, -12), (-160.681682574, -10.96905498), (-161.215394304, -9.2933501))
        make_face()
        with BuildLine():
            Line((79.30828758, 12), (57, 12))
            ThreePointArc((57, 12), (55.939339828, 11.560660172), (55.5, 10.5))
            Line((55.5, 10.5), (55.5, -3.777304051))
            ThreePointArc((55.5, -3.777304051), (56.279885709, -5.093144242), (57.808580545, -5.040711152))
            Line((57.808580545, -5.040711152), (80.116868125, 9.236592899))
            ThreePointArc((80.116868125, 9.236592899), (80.7479248, 10.921241824), (79.30828758, 12))
        make_face()
        with BuildLine():
            Line((41.80828758, 12), (19.5, 12))
            ThreePointArc((19.5, 12), (18.439339828, 11.560660172), (18, 10.5))
            Line((18, 10.5), (18, -3.777304051))
            ThreePointArc((18, -3.777304051), (18.779885709, -5.093144242), (20.308580545, -5.040711152))
            Line((20.308580545, -5.040711152), (42.616868125, 9.236592899))
            ThreePointArc((42.616868125, 9.236592899), (43.2479248, 10.921241824), (41.80828758, 12))
        make_face()
        with BuildLine():
            Line((182.608935458, 6.504957214), (161.215394304, -9.2933501))
            ThreePointArc((161.215394304, -9.2933501), (160.681682574, -10.96905498), (162.106458846, -12))
            Line((162.106458846, -12), (183.5, -12))
            ThreePointArc((183.5, -12), (184.560660172, -11.560660172), (185, -10.5))
            Line((185, -10.5), (185, 5.298307314))
            ThreePointArc((185, 5.298307314), (184.175797006, 6.637448235), (182.608935458, 6.504957214))
        make_face()
        with BuildLine():
            Line((-62.383131875, -9.236592899), (-84.691419455, 5.040711152))
            ThreePointArc((-84.691419455, 5.040711152), (-86.220114291, 5.093144242), (-87, 3.777304051))
            Line((-87, 3.777304051), (-87, -10.5))
            ThreePointArc((-87, -10.5), (-86.560660172, -11.560660172), (-85.5, -12))
            Line((-85.5, -12), (-63.19171242, -12))
            ThreePointArc((-63.19171242, -12), (-61.7520752, -10.921241824), (-62.383131875, -9.236592899))
        make_face()
        with BuildLine():
            Line((-128.715394304, -9.2933501), (-147.108935458, 4.289572599))
            ThreePointArc((-147.108935458, 4.289572599), (-148.675797006, 4.422063619), (-149.5, 3.082922698))
            Line((-149.5, 3.082922698), (-149.5, -10.5))
            ThreePointArc((-149.5, -10.5), (-149.060660172, -11.560660172), (-148, -12))
            Line((-148, -12), (-129.606458846, -12))
            ThreePointArc((-129.606458846, -12), (-128.181682574, -10.96905498), (-128.715394304, -9.2933501))
        make_face()
        with BuildLine():
            Line((-19.5, 12), (-41.80828758, 12))
            ThreePointArc((-41.80828758, 12), (-43.2479248, 10.921241824), (-42.616868125, 9.236592899))
            Line((-42.616868125, 9.236592899), (-20.308580545, -5.040711152))
            ThreePointArc((-20.308580545, -5.040711152), (-18.779885709, -5.093144242), (-18, -3.777304051))
            Line((-18, -3.777304051), (-18, 10.5))
            ThreePointArc((-18, 10.5), (-18.439339828, 11.560660172), (-19.5, 12))
        make_face()
        with BuildLine():
            Line((49.5, -10.5), (49.5, 3.777304051))
            ThreePointArc((49.5, 3.777304051), (48.720114291, 5.093144242), (47.191419455, 5.040711152))
            Line((47.191419455, 5.040711152), (24.883131875, -9.236592899))
            ThreePointArc((24.883131875, -9.236592899), (24.2520752, -10.921241824), (25.69171242, -12))
            Line((25.69171242, -12), (48, -12))
            ThreePointArc((48, -12), (49.060660172, -11.560660172), (49.5, -10.5))
        make_face()
    extrude(amount=-CUT_EXTRUDE_2_DEPTH, mode=Mode.SUBTRACT)


solid = part.part
